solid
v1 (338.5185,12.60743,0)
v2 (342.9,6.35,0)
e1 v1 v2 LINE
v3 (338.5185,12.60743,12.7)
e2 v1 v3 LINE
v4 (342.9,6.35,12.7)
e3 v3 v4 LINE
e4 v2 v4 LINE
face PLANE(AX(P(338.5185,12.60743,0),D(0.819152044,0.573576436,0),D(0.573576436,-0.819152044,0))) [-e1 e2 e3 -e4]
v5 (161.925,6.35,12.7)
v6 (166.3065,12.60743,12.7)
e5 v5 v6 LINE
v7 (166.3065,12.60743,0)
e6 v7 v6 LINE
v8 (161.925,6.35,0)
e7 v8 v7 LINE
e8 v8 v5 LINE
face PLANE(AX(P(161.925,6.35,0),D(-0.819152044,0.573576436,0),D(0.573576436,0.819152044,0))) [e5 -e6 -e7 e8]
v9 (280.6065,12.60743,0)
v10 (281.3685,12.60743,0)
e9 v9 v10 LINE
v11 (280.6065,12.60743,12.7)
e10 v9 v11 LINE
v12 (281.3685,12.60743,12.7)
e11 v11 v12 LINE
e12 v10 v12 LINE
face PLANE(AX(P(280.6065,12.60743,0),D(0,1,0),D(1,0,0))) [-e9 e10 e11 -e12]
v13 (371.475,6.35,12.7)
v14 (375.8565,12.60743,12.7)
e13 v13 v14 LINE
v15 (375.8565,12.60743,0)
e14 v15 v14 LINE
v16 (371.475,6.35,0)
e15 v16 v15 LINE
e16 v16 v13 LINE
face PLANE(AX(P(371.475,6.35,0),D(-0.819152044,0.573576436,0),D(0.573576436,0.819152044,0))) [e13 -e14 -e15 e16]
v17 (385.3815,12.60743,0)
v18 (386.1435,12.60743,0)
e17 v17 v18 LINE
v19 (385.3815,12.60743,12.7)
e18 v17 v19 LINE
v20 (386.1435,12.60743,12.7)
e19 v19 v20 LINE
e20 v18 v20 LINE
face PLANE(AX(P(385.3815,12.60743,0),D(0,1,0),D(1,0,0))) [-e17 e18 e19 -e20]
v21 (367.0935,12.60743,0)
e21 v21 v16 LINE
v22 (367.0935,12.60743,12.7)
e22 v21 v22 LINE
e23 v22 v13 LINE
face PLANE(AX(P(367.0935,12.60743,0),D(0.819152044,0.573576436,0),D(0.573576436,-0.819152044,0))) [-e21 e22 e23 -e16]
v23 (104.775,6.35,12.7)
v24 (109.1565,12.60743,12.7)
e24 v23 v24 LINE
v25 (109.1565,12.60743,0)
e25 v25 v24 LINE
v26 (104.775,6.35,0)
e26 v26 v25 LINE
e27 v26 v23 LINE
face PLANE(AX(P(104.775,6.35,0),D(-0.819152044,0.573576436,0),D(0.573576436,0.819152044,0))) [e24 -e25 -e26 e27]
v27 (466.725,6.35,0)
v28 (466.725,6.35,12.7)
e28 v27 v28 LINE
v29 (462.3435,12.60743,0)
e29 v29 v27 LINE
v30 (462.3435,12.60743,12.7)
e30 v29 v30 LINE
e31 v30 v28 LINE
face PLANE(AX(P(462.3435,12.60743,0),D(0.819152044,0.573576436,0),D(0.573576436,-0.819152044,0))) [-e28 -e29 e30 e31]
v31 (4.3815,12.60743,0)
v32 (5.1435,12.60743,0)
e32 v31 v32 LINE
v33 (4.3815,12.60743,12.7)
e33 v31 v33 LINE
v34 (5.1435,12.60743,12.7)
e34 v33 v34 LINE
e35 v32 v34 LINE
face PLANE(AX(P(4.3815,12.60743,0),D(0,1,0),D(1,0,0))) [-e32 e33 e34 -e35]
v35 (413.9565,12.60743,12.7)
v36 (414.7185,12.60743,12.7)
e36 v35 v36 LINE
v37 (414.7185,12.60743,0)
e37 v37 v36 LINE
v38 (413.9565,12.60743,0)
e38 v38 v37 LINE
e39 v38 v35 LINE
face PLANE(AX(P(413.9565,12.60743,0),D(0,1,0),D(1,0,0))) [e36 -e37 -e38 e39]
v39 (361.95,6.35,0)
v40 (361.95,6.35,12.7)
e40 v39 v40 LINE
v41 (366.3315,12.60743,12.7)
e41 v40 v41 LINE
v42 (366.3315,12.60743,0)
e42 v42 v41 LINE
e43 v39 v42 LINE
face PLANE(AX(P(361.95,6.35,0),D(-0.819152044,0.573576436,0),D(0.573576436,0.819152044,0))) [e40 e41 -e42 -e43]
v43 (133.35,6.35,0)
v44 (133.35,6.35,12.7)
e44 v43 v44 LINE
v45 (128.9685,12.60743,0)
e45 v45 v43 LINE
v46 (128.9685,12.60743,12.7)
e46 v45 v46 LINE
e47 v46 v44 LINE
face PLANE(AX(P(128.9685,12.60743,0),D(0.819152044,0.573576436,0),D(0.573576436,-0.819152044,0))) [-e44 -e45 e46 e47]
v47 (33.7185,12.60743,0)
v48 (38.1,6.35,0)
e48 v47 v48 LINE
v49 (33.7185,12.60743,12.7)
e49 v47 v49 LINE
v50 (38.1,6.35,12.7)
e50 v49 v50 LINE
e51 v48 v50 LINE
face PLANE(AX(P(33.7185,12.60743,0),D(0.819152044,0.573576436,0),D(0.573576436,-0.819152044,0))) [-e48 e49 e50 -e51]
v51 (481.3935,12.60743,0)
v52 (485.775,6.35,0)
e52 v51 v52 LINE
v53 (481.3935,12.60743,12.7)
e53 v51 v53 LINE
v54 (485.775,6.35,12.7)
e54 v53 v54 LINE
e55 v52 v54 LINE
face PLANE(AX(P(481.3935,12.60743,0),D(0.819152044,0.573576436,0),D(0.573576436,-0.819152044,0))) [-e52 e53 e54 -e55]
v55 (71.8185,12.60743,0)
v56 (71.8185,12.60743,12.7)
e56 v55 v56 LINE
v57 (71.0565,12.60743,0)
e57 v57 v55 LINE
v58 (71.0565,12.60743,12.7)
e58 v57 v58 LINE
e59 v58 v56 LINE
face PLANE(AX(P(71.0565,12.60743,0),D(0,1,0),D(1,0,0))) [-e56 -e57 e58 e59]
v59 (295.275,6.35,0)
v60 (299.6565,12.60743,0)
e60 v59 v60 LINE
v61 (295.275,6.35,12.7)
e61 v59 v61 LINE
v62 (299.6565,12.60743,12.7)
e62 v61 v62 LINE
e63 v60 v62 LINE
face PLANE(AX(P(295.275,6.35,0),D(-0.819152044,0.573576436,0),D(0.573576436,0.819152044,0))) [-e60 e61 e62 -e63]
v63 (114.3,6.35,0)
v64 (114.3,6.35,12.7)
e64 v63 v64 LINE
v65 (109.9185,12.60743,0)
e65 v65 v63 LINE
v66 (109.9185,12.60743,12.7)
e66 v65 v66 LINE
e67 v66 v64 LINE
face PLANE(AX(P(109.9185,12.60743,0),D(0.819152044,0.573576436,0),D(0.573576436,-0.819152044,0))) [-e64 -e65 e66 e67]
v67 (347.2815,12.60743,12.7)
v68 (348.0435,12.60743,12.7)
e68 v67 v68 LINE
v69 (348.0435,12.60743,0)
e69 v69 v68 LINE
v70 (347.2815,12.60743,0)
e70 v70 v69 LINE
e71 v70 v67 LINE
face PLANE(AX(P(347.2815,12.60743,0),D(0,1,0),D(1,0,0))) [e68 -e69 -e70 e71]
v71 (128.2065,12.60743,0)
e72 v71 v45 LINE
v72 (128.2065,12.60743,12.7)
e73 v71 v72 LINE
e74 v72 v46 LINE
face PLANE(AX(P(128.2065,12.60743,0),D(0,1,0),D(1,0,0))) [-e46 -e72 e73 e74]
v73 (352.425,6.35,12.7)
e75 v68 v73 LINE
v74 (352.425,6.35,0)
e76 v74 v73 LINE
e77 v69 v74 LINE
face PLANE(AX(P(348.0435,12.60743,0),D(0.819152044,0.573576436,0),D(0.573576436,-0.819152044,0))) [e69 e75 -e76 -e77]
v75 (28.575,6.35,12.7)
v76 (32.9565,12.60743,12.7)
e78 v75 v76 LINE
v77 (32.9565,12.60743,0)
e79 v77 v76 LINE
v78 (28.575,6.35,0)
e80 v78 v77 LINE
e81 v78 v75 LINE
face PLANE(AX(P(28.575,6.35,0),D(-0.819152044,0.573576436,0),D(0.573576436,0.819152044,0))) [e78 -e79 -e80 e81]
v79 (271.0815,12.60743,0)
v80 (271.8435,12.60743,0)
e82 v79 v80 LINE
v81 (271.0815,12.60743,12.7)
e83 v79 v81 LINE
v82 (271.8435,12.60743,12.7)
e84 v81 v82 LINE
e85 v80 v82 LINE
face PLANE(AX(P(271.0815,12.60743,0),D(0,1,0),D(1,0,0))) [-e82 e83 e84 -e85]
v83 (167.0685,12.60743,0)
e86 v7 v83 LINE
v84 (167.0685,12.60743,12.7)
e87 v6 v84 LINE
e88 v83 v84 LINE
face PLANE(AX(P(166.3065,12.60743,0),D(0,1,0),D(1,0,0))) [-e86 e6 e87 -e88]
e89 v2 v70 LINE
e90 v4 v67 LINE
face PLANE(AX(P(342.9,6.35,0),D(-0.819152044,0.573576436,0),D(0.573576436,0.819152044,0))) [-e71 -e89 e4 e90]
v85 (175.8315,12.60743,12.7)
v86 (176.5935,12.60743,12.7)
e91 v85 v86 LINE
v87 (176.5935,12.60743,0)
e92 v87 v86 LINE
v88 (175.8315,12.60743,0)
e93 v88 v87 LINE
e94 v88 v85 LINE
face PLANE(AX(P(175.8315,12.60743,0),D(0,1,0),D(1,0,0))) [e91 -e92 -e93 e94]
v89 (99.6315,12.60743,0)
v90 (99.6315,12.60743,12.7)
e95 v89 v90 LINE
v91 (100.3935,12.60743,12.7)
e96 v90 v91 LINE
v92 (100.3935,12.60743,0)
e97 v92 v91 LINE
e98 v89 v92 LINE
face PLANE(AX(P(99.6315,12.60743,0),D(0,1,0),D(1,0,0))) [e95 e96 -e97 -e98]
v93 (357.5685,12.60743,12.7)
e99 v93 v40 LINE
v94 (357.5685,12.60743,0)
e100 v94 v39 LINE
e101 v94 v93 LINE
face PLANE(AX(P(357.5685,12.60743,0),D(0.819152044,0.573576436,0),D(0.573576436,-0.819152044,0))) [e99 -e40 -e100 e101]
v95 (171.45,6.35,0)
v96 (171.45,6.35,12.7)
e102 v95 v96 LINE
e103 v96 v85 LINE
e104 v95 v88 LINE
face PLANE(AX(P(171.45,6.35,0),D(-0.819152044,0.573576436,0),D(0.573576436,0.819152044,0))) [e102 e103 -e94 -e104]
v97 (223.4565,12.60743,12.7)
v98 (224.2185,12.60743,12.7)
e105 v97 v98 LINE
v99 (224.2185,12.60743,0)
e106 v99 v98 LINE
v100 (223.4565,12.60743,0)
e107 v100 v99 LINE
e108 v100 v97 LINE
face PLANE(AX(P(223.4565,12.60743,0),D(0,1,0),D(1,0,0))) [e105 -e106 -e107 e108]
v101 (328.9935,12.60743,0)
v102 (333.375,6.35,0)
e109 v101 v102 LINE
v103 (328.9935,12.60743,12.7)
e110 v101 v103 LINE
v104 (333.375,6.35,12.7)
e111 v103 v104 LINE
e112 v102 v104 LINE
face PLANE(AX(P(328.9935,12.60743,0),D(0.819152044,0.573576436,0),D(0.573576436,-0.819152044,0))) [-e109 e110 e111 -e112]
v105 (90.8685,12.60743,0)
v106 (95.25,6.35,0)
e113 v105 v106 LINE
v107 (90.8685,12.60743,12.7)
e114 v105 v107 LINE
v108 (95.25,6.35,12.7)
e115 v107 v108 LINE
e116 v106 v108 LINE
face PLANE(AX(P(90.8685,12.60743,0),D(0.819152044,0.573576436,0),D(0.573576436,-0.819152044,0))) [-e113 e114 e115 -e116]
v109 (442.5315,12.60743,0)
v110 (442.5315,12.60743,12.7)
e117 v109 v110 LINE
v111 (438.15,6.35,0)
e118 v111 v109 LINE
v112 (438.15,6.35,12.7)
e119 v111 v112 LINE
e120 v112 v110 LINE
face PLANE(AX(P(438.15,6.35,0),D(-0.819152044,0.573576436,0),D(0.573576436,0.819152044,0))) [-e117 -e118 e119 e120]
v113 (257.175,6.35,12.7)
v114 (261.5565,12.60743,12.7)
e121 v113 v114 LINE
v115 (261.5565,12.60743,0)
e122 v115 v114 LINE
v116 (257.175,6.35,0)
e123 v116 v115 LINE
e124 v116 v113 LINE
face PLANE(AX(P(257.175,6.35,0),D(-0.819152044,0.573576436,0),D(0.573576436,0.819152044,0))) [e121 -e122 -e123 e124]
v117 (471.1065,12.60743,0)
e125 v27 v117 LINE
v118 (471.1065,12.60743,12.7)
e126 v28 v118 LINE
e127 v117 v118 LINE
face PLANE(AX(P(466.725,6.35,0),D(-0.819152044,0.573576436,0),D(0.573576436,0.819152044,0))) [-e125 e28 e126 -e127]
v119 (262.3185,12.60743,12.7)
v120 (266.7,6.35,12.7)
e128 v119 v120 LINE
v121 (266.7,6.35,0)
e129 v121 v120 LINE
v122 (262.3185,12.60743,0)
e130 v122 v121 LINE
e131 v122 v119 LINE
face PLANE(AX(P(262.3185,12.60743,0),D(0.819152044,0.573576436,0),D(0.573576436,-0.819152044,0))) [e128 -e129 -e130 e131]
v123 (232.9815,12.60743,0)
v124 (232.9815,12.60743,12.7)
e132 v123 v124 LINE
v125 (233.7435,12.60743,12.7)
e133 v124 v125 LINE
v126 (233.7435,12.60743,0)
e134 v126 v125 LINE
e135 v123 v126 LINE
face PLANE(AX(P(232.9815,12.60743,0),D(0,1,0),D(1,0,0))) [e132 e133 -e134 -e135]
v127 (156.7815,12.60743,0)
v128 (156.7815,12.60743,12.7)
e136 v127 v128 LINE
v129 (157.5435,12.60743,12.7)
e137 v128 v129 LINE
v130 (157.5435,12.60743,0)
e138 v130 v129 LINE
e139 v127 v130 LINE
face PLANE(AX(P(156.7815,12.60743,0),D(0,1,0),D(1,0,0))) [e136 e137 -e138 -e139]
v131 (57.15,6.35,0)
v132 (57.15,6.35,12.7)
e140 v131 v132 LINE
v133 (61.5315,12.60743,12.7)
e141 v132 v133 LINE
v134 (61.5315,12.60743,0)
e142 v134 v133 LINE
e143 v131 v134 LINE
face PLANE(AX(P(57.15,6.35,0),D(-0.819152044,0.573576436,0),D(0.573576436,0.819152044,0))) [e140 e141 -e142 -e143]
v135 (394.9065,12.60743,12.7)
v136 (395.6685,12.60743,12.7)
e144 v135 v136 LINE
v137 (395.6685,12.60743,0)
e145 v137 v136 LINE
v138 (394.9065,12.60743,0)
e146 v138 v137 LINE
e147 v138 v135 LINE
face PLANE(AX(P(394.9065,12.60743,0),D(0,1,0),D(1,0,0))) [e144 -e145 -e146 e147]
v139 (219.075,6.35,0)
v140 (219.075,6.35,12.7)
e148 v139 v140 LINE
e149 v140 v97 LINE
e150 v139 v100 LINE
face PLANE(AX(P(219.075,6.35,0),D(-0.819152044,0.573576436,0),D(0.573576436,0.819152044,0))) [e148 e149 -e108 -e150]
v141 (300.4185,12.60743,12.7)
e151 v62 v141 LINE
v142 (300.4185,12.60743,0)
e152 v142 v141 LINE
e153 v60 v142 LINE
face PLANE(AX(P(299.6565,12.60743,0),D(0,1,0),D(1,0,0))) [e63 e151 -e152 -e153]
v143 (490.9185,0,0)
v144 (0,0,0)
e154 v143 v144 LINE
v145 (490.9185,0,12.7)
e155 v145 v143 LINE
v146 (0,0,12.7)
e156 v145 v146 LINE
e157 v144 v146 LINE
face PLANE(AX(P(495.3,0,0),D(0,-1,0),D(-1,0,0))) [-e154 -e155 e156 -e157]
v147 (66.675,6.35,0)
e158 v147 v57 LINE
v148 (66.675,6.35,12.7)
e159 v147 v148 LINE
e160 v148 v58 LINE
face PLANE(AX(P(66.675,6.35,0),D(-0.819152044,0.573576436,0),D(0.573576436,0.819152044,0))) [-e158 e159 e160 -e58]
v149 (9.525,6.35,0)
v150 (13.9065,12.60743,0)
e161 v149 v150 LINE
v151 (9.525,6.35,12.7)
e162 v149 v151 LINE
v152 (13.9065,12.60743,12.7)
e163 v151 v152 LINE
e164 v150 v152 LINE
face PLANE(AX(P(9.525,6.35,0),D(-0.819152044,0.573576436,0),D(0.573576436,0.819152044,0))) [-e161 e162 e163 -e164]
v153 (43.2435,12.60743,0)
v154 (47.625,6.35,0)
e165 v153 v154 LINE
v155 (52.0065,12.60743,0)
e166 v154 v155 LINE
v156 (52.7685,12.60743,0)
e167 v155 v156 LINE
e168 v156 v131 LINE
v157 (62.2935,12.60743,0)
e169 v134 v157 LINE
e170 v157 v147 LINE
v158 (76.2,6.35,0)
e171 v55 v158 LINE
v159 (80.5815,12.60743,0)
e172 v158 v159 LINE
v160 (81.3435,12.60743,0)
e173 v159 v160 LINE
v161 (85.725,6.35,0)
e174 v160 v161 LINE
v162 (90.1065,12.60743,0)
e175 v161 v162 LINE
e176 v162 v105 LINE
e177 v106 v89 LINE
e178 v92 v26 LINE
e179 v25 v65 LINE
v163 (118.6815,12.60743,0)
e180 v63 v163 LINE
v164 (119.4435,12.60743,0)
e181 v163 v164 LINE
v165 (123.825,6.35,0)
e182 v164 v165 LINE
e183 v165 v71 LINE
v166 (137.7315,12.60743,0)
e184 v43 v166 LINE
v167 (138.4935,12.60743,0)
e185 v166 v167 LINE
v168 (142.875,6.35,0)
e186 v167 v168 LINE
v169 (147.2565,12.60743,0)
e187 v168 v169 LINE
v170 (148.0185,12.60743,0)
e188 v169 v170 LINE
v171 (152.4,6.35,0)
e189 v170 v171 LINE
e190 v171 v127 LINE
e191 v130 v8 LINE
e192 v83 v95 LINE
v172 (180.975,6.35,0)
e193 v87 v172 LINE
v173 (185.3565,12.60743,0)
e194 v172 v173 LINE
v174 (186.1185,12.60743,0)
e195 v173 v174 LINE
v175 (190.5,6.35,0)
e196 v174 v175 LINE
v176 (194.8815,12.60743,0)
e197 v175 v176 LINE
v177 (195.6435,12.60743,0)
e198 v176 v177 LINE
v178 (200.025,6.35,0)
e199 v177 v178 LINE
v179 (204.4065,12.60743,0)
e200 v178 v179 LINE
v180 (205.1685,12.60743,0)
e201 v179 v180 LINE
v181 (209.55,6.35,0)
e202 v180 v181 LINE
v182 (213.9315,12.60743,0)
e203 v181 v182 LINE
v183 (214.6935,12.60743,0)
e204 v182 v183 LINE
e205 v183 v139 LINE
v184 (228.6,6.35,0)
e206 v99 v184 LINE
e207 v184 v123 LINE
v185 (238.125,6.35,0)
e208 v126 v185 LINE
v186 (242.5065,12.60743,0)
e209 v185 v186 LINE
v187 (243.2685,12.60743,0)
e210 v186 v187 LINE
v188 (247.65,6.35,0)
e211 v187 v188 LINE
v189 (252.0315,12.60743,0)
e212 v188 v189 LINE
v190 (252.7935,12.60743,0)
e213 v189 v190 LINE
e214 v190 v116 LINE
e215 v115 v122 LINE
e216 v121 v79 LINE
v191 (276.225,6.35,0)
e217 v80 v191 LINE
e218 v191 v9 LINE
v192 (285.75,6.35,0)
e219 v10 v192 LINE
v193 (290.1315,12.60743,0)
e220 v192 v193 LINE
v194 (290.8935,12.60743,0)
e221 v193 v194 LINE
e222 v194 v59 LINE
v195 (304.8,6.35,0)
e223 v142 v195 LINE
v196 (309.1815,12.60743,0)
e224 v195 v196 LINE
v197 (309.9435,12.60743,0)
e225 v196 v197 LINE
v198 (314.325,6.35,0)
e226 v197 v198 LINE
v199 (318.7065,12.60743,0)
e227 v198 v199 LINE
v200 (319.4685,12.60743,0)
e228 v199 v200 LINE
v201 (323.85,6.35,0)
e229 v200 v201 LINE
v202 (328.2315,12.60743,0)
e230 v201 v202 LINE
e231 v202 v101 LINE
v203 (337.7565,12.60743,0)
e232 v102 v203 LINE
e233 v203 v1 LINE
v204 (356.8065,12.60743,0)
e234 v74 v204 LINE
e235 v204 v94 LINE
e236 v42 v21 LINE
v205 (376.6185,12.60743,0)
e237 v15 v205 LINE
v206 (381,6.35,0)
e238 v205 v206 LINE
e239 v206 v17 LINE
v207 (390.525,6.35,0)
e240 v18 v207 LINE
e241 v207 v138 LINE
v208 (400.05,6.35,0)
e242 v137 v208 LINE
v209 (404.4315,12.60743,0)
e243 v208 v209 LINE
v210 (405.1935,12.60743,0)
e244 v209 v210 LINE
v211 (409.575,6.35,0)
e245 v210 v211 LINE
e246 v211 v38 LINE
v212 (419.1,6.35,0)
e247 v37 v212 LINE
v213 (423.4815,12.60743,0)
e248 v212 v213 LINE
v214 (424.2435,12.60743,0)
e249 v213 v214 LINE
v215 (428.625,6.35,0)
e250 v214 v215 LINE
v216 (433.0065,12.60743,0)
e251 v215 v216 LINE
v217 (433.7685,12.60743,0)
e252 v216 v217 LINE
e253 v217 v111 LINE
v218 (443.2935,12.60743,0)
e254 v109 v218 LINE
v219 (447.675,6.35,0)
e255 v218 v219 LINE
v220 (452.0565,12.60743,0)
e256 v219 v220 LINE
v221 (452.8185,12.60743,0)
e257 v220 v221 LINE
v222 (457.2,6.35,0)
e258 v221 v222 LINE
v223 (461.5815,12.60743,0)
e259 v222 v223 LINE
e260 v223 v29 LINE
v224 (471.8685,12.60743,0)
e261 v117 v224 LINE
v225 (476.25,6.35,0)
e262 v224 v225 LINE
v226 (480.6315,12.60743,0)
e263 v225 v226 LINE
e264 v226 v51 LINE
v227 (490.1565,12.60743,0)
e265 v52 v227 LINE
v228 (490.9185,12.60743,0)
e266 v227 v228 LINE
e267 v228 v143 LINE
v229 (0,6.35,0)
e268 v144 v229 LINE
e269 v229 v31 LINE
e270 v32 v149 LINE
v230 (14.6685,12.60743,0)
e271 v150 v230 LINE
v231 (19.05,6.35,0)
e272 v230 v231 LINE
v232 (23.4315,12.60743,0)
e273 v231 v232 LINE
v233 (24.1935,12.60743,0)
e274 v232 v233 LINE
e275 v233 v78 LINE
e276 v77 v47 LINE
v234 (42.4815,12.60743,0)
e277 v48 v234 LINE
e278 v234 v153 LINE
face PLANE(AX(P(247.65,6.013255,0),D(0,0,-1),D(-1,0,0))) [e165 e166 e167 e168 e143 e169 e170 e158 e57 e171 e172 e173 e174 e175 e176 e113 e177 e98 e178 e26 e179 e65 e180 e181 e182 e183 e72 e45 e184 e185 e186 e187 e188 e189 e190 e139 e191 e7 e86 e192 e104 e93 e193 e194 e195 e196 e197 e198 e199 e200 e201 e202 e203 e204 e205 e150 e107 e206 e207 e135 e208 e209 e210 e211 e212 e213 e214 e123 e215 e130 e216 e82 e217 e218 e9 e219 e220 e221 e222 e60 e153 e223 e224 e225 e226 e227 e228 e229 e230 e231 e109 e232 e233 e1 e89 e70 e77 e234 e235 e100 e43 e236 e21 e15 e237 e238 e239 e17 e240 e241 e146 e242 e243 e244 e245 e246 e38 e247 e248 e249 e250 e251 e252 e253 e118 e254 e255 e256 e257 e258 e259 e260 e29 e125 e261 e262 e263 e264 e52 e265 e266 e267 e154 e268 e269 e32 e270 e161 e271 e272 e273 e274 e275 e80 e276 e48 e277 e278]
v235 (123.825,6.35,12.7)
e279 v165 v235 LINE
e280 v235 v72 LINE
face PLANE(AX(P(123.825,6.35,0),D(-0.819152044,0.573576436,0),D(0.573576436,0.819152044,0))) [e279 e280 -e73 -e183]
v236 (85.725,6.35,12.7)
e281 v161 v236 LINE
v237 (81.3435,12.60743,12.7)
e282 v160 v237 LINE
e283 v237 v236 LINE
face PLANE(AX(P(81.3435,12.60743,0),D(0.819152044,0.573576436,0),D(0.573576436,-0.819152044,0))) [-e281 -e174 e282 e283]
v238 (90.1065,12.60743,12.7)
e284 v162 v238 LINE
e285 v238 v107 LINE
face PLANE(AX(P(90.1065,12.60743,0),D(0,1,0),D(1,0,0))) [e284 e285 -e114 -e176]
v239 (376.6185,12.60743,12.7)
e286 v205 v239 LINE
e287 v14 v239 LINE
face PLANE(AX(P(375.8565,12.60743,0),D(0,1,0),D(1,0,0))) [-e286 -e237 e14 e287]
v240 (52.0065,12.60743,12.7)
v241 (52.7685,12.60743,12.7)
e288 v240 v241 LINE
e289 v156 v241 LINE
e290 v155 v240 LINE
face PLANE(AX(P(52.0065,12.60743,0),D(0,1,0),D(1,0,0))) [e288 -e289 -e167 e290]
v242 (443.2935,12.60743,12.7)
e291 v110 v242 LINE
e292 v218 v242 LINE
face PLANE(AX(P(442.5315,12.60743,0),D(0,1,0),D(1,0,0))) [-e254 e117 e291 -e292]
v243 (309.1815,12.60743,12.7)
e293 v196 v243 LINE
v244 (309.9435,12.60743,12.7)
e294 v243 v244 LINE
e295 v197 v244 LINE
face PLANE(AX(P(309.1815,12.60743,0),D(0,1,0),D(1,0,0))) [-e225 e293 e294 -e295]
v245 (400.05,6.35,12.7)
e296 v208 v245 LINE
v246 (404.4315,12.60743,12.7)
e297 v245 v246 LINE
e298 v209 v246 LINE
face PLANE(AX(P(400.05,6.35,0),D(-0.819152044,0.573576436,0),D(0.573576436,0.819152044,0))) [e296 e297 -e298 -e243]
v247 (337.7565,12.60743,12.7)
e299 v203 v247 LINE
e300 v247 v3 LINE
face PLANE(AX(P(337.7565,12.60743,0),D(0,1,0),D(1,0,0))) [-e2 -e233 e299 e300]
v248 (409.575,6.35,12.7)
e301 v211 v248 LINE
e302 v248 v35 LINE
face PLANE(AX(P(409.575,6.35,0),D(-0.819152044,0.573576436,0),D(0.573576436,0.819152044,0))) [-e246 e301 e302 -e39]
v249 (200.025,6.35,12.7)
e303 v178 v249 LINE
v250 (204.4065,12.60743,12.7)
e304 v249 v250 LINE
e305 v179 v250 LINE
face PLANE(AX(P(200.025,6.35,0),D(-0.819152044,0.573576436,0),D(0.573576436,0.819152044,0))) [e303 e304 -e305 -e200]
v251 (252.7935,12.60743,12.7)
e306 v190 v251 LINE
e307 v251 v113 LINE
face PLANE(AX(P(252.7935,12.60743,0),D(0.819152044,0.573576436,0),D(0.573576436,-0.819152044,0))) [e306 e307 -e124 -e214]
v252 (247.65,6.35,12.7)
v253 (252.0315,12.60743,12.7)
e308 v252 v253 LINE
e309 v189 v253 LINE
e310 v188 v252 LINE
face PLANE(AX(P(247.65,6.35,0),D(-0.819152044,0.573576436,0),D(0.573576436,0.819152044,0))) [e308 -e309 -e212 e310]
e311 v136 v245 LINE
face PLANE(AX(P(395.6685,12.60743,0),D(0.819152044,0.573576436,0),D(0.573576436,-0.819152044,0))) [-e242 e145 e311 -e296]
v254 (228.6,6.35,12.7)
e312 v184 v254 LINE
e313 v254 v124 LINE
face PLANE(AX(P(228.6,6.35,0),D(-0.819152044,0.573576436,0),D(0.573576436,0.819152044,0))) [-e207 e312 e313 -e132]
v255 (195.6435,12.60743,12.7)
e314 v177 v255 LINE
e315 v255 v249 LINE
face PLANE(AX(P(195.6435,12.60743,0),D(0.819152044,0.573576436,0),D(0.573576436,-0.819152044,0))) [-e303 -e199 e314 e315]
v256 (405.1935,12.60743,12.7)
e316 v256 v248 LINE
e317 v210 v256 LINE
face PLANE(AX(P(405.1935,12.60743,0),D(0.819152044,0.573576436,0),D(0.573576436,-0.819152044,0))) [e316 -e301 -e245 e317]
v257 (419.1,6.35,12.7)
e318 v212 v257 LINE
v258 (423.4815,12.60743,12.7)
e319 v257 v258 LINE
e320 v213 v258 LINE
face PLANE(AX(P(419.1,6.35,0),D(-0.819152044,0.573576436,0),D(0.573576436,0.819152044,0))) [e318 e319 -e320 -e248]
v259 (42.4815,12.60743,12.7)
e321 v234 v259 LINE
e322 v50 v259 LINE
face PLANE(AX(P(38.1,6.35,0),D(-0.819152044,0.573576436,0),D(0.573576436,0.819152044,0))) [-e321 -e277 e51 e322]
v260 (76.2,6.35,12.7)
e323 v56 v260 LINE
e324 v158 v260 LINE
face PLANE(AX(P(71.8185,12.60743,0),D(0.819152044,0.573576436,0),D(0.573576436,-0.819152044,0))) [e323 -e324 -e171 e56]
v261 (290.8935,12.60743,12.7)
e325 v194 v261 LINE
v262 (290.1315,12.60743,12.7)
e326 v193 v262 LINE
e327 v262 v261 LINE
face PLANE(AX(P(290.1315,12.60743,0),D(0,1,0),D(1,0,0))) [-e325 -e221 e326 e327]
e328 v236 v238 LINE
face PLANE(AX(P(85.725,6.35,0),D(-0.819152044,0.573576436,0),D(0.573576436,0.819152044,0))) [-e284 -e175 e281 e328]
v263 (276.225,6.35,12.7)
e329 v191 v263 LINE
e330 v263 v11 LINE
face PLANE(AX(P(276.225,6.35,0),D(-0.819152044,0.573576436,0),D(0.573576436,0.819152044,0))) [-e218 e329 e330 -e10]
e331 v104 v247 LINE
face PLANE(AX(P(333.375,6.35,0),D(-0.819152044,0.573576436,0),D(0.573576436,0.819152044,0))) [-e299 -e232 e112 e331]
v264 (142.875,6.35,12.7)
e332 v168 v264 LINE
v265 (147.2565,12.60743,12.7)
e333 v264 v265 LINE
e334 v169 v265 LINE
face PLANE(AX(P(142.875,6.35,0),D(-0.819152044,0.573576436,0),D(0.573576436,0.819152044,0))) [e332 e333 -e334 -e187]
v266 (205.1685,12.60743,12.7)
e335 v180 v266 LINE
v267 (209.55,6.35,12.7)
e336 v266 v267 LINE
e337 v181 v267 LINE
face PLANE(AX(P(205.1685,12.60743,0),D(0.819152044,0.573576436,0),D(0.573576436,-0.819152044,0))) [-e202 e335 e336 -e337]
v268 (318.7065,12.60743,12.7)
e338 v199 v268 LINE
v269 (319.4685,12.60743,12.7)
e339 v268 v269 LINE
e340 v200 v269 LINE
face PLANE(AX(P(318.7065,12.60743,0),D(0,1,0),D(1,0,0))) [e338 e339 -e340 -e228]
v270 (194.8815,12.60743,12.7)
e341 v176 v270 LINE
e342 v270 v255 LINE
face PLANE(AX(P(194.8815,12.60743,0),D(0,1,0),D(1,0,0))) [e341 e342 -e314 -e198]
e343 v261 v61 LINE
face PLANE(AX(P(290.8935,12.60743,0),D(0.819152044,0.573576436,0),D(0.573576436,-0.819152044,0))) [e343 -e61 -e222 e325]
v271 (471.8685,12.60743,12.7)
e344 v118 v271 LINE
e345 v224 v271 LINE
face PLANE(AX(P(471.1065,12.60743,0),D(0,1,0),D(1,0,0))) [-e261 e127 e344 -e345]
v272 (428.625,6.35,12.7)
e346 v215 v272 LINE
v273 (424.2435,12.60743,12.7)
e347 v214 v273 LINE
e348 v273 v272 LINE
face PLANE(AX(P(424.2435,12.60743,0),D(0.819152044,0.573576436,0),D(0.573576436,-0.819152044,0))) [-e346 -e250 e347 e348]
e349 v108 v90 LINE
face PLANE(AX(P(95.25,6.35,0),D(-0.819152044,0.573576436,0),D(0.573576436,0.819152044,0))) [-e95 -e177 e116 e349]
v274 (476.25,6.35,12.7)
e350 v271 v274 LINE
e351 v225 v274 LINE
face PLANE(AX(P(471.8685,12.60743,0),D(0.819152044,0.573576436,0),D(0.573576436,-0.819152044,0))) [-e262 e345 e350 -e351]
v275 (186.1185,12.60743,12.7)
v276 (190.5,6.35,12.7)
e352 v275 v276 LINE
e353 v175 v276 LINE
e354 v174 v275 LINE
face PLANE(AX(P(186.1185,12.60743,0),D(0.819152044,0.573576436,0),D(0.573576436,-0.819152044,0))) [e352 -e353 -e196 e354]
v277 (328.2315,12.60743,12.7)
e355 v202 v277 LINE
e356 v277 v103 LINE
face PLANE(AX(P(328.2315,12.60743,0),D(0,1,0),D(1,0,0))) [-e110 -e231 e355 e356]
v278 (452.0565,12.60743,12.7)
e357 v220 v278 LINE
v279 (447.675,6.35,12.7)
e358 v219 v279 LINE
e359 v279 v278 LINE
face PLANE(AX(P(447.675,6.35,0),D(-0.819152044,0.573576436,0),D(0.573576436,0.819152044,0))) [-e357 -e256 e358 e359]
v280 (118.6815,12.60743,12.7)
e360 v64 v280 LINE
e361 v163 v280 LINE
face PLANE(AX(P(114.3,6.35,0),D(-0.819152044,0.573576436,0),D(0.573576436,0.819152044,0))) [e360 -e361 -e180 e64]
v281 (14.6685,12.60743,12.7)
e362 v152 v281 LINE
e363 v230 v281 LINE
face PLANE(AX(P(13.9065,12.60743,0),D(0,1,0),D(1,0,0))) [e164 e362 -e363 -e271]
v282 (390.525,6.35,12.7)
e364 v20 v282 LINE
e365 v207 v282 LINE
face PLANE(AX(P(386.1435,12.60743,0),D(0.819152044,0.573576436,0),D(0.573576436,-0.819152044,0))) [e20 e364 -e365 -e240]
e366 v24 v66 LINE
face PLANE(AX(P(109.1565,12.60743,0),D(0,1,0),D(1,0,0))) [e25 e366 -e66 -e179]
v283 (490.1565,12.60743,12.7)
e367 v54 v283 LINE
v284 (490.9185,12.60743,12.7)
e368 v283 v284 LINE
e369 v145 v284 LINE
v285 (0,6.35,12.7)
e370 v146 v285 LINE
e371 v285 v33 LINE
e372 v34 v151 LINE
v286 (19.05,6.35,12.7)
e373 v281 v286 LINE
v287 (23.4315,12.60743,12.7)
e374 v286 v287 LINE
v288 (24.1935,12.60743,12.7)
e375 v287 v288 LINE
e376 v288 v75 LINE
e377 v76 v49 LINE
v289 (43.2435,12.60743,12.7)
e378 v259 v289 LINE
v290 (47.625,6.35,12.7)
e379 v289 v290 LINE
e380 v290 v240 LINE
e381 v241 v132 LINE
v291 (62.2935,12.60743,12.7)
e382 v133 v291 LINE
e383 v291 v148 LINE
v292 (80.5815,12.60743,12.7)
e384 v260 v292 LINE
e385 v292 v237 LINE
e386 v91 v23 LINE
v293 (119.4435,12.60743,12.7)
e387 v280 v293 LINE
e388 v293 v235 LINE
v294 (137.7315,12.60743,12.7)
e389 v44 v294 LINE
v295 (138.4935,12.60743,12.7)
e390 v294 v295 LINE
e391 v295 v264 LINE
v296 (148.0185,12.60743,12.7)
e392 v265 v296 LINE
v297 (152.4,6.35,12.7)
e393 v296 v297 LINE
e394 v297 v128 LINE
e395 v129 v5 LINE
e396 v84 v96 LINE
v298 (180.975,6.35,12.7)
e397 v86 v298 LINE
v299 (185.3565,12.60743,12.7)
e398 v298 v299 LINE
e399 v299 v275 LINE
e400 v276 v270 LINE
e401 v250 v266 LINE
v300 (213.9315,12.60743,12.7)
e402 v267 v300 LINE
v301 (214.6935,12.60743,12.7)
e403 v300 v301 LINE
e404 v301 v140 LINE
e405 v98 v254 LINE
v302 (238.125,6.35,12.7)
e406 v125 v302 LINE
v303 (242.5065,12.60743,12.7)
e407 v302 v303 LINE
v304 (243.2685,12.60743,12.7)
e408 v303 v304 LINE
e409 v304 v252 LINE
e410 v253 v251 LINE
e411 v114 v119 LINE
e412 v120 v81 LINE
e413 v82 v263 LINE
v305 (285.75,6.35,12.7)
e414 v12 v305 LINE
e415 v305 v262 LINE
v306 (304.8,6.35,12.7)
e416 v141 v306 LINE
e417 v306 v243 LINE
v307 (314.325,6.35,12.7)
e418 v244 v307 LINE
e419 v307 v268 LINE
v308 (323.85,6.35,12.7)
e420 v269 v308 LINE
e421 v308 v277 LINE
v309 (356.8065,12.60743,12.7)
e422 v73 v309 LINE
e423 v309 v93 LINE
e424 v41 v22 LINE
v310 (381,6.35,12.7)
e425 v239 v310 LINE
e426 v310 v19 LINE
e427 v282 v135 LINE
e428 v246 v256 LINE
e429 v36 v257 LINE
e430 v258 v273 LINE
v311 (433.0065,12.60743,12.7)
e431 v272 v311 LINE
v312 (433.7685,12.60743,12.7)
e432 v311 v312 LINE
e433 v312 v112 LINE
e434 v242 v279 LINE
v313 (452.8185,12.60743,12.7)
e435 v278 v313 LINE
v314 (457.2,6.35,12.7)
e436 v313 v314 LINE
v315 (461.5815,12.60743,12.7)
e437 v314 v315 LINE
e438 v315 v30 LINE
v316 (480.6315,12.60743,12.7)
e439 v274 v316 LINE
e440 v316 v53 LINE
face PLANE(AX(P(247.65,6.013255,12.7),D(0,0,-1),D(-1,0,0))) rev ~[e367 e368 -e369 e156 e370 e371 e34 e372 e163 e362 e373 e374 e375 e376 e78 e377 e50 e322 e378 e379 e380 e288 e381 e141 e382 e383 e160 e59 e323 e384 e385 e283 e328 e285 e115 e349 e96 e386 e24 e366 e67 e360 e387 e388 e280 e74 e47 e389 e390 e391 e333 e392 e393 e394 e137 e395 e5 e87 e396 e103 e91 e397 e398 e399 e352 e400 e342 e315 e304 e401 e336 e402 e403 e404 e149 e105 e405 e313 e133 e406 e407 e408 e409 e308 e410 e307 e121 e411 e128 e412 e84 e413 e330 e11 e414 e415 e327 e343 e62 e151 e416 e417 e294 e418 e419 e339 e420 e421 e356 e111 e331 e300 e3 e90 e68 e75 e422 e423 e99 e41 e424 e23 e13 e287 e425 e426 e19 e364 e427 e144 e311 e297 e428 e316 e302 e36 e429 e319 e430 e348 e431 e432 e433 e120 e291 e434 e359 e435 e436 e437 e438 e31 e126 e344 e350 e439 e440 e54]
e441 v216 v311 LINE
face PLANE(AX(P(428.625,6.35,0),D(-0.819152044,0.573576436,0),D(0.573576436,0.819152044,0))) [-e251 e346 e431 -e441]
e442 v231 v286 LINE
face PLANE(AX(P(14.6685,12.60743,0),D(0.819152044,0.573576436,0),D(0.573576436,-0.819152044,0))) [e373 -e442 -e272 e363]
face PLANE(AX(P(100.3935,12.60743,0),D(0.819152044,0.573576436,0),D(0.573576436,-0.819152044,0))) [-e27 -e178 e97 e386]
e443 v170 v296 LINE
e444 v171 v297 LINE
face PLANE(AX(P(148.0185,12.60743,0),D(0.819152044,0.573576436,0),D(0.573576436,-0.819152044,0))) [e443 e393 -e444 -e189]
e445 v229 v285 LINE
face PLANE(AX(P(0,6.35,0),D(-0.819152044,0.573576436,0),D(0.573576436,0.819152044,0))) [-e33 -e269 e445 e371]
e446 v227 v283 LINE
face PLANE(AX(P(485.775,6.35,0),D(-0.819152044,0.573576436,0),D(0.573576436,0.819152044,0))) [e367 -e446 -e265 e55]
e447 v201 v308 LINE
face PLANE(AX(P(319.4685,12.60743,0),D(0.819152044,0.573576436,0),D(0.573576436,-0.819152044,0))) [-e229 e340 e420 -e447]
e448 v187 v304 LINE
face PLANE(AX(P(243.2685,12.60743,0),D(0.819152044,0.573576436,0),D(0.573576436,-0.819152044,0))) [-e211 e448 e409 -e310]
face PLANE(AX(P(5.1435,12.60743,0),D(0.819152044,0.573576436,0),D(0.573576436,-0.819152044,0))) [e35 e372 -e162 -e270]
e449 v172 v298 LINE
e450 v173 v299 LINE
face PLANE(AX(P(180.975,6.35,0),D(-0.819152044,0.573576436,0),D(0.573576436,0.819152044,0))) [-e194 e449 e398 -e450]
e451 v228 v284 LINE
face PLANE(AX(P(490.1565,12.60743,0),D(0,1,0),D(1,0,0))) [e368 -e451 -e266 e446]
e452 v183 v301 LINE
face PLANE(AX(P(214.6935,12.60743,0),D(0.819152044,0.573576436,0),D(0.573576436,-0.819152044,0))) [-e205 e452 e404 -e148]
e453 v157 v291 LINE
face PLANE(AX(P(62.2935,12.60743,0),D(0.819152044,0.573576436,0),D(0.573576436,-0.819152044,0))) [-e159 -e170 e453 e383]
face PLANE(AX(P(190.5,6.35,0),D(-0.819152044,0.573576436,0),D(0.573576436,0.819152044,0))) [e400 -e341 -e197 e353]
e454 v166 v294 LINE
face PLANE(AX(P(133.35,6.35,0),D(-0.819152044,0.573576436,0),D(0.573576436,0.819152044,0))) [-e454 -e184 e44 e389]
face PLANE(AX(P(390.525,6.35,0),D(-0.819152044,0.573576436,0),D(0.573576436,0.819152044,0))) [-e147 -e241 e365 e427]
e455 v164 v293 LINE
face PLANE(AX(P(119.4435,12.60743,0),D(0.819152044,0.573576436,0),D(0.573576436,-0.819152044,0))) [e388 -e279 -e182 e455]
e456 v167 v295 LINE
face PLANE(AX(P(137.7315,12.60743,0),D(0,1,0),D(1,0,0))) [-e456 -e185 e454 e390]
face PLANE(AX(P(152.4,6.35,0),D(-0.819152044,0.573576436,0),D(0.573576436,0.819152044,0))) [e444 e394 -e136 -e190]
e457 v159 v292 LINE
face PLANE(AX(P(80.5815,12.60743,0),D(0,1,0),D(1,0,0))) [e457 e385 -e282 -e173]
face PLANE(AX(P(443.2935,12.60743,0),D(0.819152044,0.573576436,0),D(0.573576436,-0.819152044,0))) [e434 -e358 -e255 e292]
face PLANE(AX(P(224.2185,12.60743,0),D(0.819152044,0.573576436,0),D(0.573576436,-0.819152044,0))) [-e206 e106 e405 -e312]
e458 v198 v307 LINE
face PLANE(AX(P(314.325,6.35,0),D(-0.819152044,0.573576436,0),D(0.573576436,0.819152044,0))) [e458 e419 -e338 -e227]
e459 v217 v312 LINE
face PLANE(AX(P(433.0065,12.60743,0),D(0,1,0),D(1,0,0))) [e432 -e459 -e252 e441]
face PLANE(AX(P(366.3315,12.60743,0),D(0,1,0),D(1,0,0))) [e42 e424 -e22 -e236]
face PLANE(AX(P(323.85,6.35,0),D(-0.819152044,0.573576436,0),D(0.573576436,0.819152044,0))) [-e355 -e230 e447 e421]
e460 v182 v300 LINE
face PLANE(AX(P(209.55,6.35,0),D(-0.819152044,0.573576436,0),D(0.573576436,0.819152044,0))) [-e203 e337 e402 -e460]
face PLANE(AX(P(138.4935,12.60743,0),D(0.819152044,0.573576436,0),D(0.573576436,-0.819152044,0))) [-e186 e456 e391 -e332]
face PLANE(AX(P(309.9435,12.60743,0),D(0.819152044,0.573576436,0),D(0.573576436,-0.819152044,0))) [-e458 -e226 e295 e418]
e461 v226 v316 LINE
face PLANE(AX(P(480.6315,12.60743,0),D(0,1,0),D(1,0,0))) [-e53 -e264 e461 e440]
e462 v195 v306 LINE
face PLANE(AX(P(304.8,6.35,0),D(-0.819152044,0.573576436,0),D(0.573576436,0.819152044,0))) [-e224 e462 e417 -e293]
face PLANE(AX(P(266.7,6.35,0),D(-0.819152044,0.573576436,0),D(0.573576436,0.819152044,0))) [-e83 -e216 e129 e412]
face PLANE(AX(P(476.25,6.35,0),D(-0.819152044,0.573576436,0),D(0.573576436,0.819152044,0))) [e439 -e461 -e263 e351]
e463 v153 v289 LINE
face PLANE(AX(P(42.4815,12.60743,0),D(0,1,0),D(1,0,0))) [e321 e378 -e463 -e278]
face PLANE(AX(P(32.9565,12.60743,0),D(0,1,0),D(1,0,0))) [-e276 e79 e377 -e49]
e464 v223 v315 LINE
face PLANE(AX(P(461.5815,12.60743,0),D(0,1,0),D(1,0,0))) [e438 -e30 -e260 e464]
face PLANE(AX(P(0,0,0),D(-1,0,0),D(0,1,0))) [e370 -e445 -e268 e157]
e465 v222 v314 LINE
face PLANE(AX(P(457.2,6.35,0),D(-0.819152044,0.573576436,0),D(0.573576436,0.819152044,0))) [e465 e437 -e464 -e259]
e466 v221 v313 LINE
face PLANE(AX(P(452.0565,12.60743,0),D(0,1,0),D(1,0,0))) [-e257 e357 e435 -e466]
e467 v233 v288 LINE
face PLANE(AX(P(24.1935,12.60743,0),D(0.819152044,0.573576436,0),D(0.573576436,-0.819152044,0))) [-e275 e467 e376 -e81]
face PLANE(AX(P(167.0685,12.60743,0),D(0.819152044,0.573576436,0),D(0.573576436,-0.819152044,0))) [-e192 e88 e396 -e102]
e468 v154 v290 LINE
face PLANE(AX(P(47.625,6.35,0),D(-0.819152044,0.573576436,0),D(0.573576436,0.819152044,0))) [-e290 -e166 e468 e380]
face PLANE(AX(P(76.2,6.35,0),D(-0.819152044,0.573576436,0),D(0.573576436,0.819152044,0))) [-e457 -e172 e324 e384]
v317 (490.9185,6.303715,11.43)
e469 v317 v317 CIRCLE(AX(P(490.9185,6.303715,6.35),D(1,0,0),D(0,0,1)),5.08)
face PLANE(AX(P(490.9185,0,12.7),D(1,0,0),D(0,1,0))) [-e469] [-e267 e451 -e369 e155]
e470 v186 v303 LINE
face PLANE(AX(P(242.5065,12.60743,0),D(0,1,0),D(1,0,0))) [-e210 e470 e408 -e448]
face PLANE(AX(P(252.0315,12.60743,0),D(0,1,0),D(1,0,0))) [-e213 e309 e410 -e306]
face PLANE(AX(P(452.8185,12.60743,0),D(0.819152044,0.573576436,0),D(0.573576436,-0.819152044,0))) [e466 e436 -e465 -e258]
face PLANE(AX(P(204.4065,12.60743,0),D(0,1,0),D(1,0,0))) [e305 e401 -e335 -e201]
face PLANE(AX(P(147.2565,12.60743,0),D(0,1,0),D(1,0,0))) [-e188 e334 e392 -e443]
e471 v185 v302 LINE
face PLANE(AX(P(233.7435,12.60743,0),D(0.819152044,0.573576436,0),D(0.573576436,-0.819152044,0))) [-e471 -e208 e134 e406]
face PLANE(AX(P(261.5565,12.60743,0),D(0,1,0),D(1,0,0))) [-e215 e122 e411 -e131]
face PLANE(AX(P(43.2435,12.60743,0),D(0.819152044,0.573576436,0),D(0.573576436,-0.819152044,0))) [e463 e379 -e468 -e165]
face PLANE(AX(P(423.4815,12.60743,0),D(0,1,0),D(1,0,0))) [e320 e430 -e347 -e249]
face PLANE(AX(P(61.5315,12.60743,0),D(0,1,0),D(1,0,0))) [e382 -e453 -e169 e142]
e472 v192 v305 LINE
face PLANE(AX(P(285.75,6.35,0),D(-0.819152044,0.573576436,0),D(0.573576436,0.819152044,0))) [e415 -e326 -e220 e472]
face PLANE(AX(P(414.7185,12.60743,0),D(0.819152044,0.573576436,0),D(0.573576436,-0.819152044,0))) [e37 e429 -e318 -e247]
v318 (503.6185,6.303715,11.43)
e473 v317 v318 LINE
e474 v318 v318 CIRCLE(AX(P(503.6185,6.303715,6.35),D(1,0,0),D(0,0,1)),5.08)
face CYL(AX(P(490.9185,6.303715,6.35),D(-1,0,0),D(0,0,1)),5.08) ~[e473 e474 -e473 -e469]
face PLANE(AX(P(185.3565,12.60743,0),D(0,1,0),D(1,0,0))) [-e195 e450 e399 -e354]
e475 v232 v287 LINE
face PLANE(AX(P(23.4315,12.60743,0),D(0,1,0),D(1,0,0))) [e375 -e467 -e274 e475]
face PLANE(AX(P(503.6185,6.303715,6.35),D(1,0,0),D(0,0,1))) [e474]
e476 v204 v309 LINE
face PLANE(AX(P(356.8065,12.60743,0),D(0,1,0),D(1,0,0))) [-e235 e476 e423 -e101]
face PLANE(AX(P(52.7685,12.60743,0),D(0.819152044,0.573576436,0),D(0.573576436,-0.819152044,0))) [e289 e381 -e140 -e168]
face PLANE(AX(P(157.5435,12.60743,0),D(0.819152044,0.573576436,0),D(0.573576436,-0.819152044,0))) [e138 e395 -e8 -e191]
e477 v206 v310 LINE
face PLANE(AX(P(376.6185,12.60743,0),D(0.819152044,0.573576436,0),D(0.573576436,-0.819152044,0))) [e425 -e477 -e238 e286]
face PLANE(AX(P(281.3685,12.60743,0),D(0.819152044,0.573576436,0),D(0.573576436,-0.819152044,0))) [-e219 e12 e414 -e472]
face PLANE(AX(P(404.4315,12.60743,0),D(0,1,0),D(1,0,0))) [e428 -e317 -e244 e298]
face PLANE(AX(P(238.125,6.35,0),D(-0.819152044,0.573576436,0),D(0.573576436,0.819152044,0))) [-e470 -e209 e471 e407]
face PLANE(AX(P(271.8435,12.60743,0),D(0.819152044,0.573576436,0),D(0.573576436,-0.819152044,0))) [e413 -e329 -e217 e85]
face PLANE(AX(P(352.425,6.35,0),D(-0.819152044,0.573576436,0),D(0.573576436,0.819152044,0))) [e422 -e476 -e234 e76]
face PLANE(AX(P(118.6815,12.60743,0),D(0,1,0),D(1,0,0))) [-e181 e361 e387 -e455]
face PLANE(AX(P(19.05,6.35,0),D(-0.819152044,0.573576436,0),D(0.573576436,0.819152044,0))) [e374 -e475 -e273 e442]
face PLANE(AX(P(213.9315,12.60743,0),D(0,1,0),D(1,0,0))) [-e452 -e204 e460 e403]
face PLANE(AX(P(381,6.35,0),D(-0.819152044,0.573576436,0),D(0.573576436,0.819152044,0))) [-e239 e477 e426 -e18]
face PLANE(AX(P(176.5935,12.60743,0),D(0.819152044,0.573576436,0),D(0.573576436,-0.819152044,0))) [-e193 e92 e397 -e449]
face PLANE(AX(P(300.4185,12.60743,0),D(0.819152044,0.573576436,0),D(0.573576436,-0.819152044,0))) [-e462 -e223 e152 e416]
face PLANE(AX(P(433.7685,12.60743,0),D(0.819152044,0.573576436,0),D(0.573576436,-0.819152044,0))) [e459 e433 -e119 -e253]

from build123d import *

# Parameters (mm, degrees)
BOSS_EXTRUDE1_DEPTH = 12.7
SKETCH2_W           = 4.3815
SKETCH2_H           = 12.607430492
CUT_EXTRUDE1_DEPTH  = 496.623170669
SKETCH3_R           = 5.08
BOSS_EXTRUDE2_DEPTH = 12.7


with BuildPart() as part:
    # Sketch1 → Boss-Extrude1 (new body)
    with BuildSketch(Plane.XY):
        Polygon((0, 0), (0, 6.35), (4.3815, 12.607430492), (5.1435, 12.607430492), (9.525, 6.35), (13.9065, 12.607430492), (14.6685, 12.607430492), (19.05, 6.35), (23.4315, 12.607430492), (24.1935, 12.607430492), (28.575, 6.35), (32.9565, 12.607430492), (33.7185, 12.607430492), (38.1, 6.35), (42.4815, 12.607430492), (43.2435, 12.607430492), (47.625, 6.35), (52.0065, 12.607430492), (52.7685, 12.607430492), (57.15, 6.35), (61.5315, 12.607430492), (62.2935, 12.607430492), (66.675, 6.35), (71.0565, 12.607430492), (71.8185, 12.607430492), (76.2, 6.35), (80.5815, 12.607430492), (81.3435, 12.607430492), (85.725, 6.35), (90.1065, 12.607430492), (90.8685, 12.607430492), (95.25, 6.35), (99.6315, 12.607430492), (100.3935, 12.607430492), (104.775, 6.35), (109.1565, 12.607430492), (109.9185, 12.607430492), (114.3, 6.35), (118.6815, 12.607430492), (119.4435, 12.607430492), (123.825, 6.35), (128.2065, 12.607430492), (128.9685, 12.607430492), (133.35, 6.35), (137.7315, 12.607430492), (138.4935, 12.607430492), (142.875, 6.35), (147.2565, 12.607430492), (148.0185, 12.607430492), (152.4, 6.35), (156.7815, 12.607430492), (157.5435, 12.607430492), (161.925, 6.35), (166.3065, 12.607430492), (167.0685, 12.607430492), (171.45, 6.35), (175.8315, 12.607430492), (176.5935, 12.607430492), (180.975, 6.35), (185.3565, 12.607430492), (186.1185, 12.607430492), (190.5, 6.35), (194.8815, 12.607430492), (195.6435, 12.607430492), (200.025, 6.35), (204.4065, 12.607430492), (205.1685, 12.607430492), (209.55, 6.35), (213.9315, 12.607430492), (214.6935, 12.607430492), (219.075, 6.35), (223.4565, 12.607430492), (224.2185, 12.607430492), (228.6, 6.35), (232.9815, 12.607430492), (233.7435, 12.607430492), (238.125, 6.35), (242.5065, 12.607430492), (243.2685, 12.607430492), (247.65, 6.35), (252.0315, 12.607430492), (252.7935, 12.607430492), (257.175, 6.35), (261.5565, 12.607430492), (262.3185, 12.607430492), (266.7, 6.35), (271.0815, 12.607430492), (271.8435, 12.607430492), (276.225, 6.35), (280.6065, 12.607430492), (281.3685, 12.607430492), (285.75, 6.35), (290.1315, 12.607430492), (290.8935, 12.607430492), (295.275, 6.35), (299.6565, 12.607430492), (300.4185, 12.607430492), (304.8, 6.35), (309.1815, 12.607430492), (309.9435, 12.607430492), (314.325, 6.35), (318.7065, 12.607430492), (319.4685, 12.607430492), (323.85, 6.35), (328.2315, 12.607430492), (328.9935, 12.607430492), (333.375, 6.35), (337.7565, 12.607430492), (338.5185, 12.607430492), (342.9, 6.35), (347.2815, 12.607430492), (348.0435, 12.607430492), (352.425, 6.35), (356.8065, 12.607430492), (357.5685, 12.607430492), (361.95, 6.35), (366.3315, 12.607430492), (367.0935, 12.607430492), (371.475, 6.35), (375.8565, 12.607430492), (376.6185, 12.607430492), (381, 6.35), (385.3815, 12.607430492), (386.1435, 12.607430492), (390.525, 6.35), (394.9065, 12.607430492), (395.6685, 12.607430492), (400.05, 6.35), (404.4315, 12.607430492), (405.1935, 12.607430492), (409.575, 6.35), (413.9565, 12.607430492), (414.7185, 12.607430492), (419.1, 6.35), (423.4815, 12.607430492), (424.2435, 12.607430492), (428.625, 6.35), (433.0065, 12.607430492), (433.7685, 12.607430492), (438.15, 6.35), (442.5315, 12.607430492), (443.2935, 12.607430492), (447.675, 6.35), (452.0565, 12.607430492), (452.8185, 12.607430492), (457.2, 6.35), (461.5815, 12.607430492), (462.3435, 12.607430492), (466.725, 6.35), (471.1065, 12.607430492), (471.8685, 12.607430492), (476.25, 6.35), (480.6315, 12.607430492), (481.3935, 12.607430492), (485.775, 6.35), (490.1565, 12.607430492), (490.9185, 12.607430492), (495.3, 6.35), (495.3, 0), align=None)
    extrude(amount=BOSS_EXTRUDE1_DEPTH)

    # Sketch2 → Cut-Extrude1 (cut, through all)
    with BuildSketch(Plane.XY.offset(12.7)):
        with Locations((493.10925, 6.303715246)):
            Rectangle(SKETCH2_W, SKETCH2_H)
    extrude(amount=-CUT_EXTRUDE1_DEPTH, mode=Mode.SUBTRACT)

    # Sketch3 → Boss-Extrude2 (add)
    with BuildSketch(Plane(origin=(490.9185, 0, 0), x_dir=(0, 0, -1), z_dir=(1, 0, 0))):
        with Locations(Location((-6.35, 6.303715246, 0), (0, 0, 180))):
            Circle(SKETCH3_R)
    extrude(amount=BOSS_EXTRUDE2_DEPTH)


solid = part.part
